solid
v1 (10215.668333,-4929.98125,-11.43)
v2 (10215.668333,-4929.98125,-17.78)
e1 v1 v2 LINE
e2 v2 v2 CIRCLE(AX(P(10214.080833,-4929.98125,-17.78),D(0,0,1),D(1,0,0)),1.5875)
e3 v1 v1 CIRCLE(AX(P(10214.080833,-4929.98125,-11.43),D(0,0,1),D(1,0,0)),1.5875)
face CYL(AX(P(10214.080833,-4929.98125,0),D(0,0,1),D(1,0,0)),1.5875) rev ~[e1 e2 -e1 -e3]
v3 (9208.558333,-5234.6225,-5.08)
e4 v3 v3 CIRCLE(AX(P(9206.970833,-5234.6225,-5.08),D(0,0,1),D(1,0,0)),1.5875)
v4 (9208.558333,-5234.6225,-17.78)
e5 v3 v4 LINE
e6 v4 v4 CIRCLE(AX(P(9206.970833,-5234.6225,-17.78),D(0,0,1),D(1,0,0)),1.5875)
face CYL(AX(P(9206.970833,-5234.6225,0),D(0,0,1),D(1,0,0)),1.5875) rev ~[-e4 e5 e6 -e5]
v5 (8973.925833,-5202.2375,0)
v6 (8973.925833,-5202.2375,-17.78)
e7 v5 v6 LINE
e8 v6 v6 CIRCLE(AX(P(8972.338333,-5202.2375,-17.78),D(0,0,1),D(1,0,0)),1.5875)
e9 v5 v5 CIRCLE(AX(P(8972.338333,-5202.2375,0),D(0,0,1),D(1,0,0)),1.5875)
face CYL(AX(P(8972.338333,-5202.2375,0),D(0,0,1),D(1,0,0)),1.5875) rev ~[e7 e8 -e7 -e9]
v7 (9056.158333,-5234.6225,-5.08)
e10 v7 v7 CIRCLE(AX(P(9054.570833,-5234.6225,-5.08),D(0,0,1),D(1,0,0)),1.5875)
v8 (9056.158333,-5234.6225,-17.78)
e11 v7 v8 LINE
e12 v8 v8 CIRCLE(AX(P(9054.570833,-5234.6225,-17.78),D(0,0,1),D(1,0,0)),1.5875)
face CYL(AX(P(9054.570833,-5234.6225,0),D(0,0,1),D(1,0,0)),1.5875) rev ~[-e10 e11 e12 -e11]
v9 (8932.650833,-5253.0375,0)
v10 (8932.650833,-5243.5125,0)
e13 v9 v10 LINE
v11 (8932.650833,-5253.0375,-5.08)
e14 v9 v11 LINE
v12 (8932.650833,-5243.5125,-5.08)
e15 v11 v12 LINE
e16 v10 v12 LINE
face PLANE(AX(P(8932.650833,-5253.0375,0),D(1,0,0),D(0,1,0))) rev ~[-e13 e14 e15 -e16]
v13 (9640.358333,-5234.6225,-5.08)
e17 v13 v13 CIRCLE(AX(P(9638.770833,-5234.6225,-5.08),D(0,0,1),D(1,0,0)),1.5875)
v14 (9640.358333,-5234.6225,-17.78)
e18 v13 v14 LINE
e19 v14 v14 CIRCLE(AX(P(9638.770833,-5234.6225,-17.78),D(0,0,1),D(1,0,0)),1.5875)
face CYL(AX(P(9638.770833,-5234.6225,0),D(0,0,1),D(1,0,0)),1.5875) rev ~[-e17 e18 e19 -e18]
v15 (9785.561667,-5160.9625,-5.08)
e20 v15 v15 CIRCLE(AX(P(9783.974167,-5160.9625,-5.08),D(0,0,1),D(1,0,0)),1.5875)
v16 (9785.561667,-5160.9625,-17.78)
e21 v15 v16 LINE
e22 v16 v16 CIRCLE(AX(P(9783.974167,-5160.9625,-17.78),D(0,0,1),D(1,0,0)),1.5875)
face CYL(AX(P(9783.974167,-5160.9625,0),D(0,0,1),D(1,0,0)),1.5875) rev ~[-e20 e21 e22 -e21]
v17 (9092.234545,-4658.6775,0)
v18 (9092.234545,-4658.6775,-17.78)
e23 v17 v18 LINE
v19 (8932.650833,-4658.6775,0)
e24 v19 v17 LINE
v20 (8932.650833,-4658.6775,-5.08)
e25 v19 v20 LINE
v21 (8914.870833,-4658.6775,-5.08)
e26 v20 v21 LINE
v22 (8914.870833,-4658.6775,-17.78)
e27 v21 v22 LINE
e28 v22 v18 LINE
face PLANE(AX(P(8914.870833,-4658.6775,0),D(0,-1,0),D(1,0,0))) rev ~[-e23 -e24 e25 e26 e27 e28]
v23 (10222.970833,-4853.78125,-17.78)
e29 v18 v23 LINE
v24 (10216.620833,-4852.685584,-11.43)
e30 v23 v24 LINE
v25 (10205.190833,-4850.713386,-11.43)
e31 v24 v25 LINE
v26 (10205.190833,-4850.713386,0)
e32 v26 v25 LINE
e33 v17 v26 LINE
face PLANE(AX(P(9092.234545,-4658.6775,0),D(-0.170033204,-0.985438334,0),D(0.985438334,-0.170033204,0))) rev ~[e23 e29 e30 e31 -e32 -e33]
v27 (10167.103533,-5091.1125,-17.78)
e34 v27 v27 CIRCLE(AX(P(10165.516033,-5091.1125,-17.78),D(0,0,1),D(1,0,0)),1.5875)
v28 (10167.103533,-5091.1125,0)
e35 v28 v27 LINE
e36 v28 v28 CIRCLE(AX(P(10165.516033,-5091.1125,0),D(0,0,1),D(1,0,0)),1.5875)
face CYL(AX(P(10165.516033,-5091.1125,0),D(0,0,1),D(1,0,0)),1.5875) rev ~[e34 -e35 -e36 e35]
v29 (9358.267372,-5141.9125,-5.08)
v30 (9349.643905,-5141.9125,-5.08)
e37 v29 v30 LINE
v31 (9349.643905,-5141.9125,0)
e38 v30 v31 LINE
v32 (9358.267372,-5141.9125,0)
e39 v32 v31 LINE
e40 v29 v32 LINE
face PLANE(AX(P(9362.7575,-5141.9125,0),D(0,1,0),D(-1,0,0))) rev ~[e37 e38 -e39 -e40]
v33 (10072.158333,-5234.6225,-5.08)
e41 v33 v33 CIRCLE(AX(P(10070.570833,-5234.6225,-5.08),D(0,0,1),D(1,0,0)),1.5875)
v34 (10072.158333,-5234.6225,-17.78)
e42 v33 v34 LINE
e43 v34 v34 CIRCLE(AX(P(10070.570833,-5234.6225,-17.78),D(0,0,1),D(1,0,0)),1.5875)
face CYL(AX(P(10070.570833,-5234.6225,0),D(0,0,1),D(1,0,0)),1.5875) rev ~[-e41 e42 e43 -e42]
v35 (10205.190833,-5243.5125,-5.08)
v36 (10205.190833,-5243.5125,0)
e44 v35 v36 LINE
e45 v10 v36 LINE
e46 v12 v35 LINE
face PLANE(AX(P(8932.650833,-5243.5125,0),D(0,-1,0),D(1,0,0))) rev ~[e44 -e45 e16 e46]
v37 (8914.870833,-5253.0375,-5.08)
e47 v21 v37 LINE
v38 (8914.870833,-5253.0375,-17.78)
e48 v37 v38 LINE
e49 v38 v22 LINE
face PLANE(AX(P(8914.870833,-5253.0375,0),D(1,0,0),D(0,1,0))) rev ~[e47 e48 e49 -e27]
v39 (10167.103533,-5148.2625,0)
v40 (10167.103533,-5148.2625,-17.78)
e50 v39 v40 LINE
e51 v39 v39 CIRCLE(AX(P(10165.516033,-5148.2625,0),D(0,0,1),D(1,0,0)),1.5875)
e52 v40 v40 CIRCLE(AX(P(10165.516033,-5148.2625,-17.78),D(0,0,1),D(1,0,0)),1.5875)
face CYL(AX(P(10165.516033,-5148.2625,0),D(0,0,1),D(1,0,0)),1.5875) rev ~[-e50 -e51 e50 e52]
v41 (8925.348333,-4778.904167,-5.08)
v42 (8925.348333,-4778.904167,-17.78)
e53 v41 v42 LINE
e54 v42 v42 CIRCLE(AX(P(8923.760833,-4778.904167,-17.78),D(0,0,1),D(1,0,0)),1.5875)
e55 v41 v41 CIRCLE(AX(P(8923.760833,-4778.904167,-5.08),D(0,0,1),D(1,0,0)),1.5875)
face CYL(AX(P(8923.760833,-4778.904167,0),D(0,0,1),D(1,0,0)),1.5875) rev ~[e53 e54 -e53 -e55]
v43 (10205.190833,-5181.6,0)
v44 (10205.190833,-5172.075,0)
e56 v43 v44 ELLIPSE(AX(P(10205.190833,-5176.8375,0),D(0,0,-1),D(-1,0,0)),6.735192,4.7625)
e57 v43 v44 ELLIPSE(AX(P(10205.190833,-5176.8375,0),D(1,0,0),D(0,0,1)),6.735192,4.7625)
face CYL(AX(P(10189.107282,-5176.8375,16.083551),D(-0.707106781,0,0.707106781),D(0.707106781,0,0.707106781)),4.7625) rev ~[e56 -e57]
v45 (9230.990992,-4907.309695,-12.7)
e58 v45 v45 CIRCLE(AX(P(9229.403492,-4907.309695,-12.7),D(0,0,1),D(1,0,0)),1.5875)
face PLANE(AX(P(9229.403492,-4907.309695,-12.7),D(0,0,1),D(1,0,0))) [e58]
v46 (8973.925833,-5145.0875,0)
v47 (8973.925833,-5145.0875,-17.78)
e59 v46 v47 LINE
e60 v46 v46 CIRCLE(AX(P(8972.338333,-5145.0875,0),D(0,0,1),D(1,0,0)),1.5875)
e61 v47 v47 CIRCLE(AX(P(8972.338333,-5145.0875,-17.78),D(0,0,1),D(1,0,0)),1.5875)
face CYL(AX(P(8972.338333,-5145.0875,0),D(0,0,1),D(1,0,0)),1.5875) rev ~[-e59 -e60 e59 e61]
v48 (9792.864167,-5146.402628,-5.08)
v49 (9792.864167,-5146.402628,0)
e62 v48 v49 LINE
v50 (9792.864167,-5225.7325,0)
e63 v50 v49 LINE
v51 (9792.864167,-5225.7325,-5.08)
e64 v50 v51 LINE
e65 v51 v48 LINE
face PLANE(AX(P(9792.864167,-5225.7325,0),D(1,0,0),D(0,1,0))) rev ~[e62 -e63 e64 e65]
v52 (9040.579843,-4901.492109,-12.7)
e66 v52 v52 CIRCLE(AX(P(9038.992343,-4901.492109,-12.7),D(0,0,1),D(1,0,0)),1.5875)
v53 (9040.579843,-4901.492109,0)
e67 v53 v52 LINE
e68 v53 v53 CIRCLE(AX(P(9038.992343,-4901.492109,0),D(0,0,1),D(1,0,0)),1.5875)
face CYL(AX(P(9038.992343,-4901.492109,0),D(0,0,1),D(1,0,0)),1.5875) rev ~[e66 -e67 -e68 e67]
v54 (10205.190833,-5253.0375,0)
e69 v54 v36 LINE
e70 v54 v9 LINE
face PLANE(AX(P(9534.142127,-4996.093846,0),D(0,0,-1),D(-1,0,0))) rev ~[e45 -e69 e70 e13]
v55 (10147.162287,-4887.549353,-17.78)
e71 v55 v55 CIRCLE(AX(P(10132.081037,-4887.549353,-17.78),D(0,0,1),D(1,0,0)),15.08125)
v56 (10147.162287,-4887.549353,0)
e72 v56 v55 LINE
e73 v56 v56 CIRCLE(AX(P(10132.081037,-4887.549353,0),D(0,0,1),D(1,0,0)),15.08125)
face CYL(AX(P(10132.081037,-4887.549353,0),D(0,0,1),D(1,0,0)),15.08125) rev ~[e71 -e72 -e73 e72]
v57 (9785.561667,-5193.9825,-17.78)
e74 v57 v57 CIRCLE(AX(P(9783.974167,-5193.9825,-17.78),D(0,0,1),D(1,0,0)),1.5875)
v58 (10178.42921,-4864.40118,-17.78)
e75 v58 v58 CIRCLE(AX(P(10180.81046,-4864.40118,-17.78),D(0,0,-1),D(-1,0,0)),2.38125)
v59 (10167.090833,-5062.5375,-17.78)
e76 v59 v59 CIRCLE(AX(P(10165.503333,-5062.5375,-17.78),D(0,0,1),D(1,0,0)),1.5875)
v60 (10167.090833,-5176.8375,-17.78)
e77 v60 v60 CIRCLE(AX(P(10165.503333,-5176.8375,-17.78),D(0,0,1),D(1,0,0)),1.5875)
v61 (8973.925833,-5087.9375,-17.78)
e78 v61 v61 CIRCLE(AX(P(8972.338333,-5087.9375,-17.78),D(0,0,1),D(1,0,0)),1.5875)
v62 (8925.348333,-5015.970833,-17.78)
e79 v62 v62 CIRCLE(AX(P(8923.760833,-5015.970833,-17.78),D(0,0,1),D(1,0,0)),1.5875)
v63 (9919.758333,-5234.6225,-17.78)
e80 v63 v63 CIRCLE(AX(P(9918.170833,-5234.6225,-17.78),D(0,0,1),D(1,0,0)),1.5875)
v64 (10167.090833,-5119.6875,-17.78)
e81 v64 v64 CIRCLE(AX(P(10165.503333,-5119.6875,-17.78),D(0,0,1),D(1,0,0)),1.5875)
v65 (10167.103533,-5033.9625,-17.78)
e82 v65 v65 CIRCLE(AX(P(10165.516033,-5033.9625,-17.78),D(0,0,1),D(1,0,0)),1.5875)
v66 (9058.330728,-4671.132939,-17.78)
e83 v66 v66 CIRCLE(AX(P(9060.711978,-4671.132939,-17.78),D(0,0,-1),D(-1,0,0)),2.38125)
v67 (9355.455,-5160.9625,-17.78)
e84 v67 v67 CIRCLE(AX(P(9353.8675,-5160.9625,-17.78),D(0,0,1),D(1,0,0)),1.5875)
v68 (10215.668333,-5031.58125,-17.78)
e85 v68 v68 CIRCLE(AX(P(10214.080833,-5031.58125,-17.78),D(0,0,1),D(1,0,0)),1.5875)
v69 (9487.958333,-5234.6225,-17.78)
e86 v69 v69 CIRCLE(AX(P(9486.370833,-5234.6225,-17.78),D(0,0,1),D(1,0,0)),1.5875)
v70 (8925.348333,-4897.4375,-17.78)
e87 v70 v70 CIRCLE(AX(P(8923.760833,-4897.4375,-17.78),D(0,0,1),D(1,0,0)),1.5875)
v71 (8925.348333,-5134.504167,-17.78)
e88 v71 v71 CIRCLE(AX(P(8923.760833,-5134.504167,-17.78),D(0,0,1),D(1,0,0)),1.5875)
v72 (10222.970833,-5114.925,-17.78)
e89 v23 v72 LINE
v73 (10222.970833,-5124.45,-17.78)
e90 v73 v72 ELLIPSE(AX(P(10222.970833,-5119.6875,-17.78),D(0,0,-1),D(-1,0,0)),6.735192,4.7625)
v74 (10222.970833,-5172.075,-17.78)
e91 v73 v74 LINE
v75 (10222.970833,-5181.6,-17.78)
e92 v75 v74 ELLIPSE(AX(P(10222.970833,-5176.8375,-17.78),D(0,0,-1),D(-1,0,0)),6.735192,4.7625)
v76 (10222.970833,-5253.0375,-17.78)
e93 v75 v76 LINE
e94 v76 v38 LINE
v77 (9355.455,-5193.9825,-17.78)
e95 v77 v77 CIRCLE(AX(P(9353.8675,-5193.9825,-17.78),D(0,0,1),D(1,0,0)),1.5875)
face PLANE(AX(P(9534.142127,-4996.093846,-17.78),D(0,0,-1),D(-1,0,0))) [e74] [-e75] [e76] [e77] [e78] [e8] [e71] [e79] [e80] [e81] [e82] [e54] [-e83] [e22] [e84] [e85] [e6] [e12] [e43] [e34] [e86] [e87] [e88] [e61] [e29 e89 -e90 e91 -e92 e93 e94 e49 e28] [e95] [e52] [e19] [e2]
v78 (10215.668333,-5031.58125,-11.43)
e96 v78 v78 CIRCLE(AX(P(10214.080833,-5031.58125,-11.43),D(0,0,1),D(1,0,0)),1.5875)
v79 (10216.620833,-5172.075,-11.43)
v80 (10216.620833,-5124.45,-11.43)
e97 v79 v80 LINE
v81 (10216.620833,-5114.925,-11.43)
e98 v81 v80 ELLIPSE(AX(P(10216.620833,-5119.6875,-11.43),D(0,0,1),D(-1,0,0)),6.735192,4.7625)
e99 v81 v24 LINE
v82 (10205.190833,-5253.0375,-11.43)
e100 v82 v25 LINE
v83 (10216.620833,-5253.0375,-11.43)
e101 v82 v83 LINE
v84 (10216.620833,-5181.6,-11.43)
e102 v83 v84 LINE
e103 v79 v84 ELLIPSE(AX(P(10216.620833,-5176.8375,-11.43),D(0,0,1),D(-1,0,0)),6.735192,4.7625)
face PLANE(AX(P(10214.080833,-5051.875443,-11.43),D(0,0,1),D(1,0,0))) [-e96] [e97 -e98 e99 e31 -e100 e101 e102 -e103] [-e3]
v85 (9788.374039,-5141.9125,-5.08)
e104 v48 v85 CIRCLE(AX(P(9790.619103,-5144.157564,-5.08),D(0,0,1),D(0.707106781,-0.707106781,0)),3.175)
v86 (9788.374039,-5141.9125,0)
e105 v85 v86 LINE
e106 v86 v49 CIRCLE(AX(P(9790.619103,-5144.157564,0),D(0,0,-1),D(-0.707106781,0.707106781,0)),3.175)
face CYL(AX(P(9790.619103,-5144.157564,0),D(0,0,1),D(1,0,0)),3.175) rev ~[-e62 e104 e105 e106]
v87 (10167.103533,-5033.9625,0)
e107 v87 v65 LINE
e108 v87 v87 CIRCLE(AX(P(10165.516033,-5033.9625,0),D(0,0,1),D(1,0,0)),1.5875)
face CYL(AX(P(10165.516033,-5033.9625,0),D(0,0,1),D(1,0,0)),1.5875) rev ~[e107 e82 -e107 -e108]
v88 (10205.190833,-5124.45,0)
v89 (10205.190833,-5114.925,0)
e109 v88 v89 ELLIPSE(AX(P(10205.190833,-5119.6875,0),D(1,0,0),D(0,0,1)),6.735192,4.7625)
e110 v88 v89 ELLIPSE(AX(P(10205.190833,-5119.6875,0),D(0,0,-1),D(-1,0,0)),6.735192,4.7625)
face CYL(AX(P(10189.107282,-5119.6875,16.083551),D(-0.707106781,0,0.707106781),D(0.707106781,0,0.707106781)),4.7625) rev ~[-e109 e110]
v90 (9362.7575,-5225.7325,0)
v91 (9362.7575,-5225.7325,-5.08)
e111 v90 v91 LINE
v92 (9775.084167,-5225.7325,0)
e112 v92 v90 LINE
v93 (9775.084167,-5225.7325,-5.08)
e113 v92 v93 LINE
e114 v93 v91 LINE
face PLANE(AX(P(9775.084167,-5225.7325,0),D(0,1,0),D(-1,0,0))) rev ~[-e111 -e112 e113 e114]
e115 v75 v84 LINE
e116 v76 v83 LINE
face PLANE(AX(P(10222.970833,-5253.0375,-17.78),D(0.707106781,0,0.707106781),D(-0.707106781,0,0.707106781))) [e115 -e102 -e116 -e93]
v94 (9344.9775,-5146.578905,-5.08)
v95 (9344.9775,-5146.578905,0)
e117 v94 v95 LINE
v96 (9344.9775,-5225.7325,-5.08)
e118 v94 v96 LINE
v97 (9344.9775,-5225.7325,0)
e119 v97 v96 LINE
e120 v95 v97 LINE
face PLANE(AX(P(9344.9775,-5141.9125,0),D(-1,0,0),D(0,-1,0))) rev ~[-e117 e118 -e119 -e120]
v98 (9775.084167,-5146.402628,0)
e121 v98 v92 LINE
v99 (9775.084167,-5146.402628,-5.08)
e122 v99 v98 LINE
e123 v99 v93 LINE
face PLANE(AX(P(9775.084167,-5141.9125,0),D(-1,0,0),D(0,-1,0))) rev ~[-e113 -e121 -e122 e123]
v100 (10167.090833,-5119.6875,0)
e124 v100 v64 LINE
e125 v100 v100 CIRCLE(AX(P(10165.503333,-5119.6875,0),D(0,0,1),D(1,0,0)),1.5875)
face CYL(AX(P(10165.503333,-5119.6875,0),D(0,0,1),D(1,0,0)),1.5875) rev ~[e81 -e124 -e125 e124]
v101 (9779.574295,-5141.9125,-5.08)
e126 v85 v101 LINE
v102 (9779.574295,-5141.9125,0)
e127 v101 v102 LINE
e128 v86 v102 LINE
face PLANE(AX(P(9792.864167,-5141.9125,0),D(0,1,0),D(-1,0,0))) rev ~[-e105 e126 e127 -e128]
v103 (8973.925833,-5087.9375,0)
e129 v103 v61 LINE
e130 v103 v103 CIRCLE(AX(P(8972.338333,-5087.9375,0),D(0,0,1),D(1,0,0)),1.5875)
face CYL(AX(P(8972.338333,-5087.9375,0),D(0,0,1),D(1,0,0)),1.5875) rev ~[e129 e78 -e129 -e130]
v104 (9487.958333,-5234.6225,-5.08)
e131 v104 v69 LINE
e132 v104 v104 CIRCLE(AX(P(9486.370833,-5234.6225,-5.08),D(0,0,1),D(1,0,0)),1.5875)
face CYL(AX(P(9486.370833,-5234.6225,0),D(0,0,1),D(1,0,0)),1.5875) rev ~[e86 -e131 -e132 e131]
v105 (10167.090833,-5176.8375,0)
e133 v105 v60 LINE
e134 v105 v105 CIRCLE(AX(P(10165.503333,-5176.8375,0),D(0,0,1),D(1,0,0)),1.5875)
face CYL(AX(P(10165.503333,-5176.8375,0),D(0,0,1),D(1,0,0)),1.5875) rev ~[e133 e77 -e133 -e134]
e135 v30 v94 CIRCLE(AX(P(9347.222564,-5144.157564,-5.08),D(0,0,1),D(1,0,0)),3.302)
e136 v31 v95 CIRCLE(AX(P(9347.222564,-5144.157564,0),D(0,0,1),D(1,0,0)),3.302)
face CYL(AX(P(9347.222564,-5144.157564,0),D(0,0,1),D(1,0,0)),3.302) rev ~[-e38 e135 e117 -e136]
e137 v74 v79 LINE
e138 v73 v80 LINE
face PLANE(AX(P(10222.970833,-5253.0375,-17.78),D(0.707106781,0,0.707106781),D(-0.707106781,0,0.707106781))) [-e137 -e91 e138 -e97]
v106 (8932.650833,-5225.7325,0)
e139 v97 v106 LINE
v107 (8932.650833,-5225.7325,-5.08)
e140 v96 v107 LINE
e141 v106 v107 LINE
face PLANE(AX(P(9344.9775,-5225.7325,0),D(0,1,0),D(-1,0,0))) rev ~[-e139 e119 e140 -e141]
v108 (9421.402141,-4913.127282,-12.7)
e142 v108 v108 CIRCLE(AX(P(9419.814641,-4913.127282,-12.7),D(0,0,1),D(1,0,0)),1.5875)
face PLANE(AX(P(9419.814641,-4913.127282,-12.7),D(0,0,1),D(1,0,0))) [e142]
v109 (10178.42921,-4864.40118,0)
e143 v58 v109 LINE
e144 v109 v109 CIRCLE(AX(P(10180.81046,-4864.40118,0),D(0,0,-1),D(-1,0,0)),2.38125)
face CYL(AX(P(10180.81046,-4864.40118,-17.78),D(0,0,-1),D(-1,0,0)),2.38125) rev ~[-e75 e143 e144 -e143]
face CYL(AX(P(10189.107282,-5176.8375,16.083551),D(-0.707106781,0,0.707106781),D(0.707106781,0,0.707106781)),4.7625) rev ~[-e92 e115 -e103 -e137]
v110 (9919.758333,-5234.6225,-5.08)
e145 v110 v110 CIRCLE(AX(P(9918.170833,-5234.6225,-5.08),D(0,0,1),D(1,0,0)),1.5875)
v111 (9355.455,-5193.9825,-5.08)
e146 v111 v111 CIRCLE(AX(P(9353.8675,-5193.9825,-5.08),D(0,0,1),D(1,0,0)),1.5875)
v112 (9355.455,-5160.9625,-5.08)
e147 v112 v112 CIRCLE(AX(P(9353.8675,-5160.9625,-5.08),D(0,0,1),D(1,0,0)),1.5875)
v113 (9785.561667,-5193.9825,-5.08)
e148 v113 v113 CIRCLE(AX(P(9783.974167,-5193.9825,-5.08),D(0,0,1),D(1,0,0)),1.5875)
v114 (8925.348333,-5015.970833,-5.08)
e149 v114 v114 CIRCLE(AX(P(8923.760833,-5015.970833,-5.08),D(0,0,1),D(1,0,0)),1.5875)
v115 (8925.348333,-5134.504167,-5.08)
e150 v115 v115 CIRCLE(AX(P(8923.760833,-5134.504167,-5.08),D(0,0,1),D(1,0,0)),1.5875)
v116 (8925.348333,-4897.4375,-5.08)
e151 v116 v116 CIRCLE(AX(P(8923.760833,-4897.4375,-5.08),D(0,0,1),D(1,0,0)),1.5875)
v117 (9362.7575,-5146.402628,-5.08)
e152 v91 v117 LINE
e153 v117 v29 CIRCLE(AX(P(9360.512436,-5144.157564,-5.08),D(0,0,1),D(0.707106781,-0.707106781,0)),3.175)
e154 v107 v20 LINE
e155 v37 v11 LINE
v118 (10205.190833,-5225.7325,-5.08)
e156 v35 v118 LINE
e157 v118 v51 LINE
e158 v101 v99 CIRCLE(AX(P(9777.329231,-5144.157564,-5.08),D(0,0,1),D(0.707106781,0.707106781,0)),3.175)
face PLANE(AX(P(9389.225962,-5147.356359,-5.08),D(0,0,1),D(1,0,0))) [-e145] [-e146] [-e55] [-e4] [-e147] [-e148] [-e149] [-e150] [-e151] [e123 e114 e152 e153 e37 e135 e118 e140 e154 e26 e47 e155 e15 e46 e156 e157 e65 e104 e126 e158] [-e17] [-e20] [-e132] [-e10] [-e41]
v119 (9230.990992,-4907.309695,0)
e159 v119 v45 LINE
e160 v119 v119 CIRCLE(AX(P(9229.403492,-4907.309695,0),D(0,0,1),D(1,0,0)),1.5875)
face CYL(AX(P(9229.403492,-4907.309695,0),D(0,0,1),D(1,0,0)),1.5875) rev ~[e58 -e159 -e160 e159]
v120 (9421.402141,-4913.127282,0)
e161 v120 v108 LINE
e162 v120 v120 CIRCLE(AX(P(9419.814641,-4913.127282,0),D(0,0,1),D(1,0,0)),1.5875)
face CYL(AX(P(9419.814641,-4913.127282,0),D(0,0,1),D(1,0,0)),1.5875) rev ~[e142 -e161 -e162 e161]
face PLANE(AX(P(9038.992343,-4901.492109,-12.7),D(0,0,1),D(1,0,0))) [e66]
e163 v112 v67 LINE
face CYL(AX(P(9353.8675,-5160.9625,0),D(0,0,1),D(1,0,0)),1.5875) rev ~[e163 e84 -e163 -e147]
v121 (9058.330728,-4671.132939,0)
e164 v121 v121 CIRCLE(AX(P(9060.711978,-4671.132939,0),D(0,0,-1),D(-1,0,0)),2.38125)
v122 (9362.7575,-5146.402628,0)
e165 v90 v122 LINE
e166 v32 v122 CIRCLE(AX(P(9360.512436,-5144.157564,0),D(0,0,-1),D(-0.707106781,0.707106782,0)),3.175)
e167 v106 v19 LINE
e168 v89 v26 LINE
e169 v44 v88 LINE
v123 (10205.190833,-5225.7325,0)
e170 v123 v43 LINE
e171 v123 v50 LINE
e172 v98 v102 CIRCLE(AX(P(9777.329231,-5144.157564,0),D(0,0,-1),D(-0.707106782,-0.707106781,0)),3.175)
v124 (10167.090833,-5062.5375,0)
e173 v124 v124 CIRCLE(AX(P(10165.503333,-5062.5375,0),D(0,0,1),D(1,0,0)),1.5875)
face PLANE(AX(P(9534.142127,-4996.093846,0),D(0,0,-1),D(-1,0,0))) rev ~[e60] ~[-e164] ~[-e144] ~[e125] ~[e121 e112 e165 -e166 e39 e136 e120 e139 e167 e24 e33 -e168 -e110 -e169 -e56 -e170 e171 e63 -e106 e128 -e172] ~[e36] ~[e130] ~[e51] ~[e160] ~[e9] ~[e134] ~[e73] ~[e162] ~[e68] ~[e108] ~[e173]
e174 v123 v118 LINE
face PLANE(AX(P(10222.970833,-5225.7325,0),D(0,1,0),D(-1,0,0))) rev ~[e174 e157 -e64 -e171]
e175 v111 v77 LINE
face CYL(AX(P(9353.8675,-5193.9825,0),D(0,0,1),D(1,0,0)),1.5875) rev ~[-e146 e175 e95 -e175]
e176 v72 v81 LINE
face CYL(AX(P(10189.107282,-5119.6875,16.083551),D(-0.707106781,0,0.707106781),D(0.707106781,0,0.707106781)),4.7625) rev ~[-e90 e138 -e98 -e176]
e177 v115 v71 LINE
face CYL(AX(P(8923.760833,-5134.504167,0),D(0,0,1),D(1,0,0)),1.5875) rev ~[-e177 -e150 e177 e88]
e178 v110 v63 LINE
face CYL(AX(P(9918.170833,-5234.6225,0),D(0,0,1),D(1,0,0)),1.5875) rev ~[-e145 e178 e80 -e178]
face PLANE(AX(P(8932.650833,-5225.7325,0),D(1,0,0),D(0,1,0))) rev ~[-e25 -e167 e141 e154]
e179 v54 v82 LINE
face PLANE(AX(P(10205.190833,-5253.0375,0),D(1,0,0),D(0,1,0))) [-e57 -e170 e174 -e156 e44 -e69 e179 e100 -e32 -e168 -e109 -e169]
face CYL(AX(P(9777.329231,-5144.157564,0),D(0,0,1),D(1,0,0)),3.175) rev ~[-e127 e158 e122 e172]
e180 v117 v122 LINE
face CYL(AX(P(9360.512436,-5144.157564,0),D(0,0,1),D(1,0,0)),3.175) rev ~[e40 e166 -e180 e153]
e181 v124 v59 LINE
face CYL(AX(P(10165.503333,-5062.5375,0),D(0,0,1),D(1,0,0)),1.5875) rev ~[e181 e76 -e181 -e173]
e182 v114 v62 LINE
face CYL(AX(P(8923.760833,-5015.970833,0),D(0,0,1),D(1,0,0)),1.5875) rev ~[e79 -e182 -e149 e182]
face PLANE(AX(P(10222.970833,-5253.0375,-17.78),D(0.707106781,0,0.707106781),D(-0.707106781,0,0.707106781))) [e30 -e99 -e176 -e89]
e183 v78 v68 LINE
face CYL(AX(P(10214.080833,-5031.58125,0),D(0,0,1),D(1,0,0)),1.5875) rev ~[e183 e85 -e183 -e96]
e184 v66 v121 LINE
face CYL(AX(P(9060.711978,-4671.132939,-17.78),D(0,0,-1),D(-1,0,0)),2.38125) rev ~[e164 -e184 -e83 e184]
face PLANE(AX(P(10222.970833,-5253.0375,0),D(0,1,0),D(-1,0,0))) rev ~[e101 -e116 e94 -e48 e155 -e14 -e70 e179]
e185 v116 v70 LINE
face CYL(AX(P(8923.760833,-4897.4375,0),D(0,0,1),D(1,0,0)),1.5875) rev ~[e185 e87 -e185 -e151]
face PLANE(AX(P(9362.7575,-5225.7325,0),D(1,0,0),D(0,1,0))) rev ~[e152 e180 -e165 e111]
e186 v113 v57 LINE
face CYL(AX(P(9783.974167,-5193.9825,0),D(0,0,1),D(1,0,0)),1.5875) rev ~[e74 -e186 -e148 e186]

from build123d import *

# Parameters (mm, degrees)
CABSIDERIGHT_THICKNESS_DEPTH  = 17.78
LEDGECUTS_DEPTH_DEPTH         = 5.08
SKETCH9_R                     = 3.301999998
SKETCH9_R_2                   = 3.174999998
SKETCH9_R_3                   = 3.174999999
CUT_EXTRUDE4_DEPTH            = 5.08
SKETCH10_R                    = 15.08125
SKETCH10_R_2                  = 1.5875
CUT_EXTRUDE5_DEPTH            = 17.78
FRONTLEDGECUT_W               = 17.78
FRONTLEDGECUT_H               = 402.324113577
FRONTLEDGECUT_THICKNESS_DEPTH = 11.43
CUT_EXTRUDE8_DEPTH            = 594.36
SKETCH15_R                    = 2.38125
CUT_EXTRUDE9_DEPTH            = 17.78
SKETCH16_R                    = 1.5875
CUT_EXTRUDE10_DEPTH           = 12.7
SKETCH17_R                    = 4.7625
CUT_EXTRUDE11_DEPTH           = 76.2


with BuildPart() as part:
    # CabSideRight_Outline → CabSideRight_Thickness (new body)
    with BuildSketch(Plane.XY):
        Polygon((9092.234544556, -4658.6775), (10222.970833334, -4853.78125), (10222.970833334, -5253.0375), (8914.870833334, -5253.0375), (8914.870833334, -4658.6775), align=None)
    extrude(amount=-CABSIDERIGHT_THICKNESS_DEPTH)

    # CabSideRight_LedgeCuts → LedgeCuts_Depth (cut)
    with BuildSketch(Plane.XY):
        Polygon((8932.650833334, -4658.6775), (8914.870833334, -4658.6775), (8914.870833334, -5253.0375), (8932.650833334, -5253.0375), (8932.650833334, -5243.5125), (10222.970833334, -5243.5125), (10222.970833334, -5225.7325), (9792.864166668, -5225.7325), (9792.864166668, -5141.912499999), (9775.084166668, -5141.912499999), (9775.084166668, -5225.7325), (9362.757500002, -5225.7325), (9362.757500002, -5141.9125), (9344.977500002, -5141.912499999), (9344.977500002, -5225.7325), (8932.650833334, -5225.7325), align=None)
    extrude(amount=-LEDGECUTS_DEPTH_DEPTH, mode=Mode.SUBTRACT)

    # Sketch9 → Cut-Extrude4 (cut)
    with BuildSketch(Plane.XY):
        with Locations((9347.222564031, -5144.157564028)):
            Circle(SKETCH9_R)
        with Locations((9360.512435973, -5144.15756403)):
            Circle(SKETCH9_R_2)
        with Locations((9777.329230699, -5144.157564029)):
            Circle(SKETCH9_R_3)
        with Locations((9790.619102638, -5144.157564029)):
            Circle(SKETCH9_R_3)
    extrude(amount=-CUT_EXTRUDE4_DEPTH, mode=Mode.SUBTRACT)

    # Sketch10 → Cut-Extrude5 (cut)
    with BuildSketch(Plane.XY):
        with Locations((10132.081036572, -4887.549352662)):
            Circle(SKETCH10_R)
        with Locations((10165.516033334, -5148.2625)):
            Circle(SKETCH10_R_2)
        with Locations((8923.760833334, -4778.904166666)):
            Circle(SKETCH10_R_2)
        with Locations((8923.760833334, -4897.4375)):
            Circle(SKETCH10_R_2)
        with Locations((8923.760833334, -5015.970833334)):
            Circle(SKETCH10_R_2)
        with Locations((8923.760833334, -5134.504166666)):
            Circle(SKETCH10_R_2)
        with Locations((9054.570833334, -5234.6225)):
            Circle(SKETCH10_R_2)
        with Locations((9206.970833334, -5234.6225)):
            Circle(SKETCH10_R_2)
        with Locations((9353.8675, -5193.9825)):
            Circle(SKETCH10_R_2)
        with Locations((9353.8675, -5160.9625)):
            Circle(SKETCH10_R_2)
        with Locations((9486.370833334, -5234.6225)):
            Circle(SKETCH10_R_2)
        with Locations((9638.770833334, -5234.6225)):
            Circle(SKETCH10_R_2)
        with Locations((9783.974166666, -5193.9825)):
            Circle(SKETCH10_R_2)
        with Locations((9783.974166666, -5160.9625)):
            Circle(SKETCH10_R_2)
        with Locations((9918.170833334, -5234.6225)):
            Circle(SKETCH10_R_2)
        with Locations((10070.570833334, -5234.6225)):
            Circle(SKETCH10_R_2)
        with Locations((10214.080833334, -5031.58125)):
            Circle(SKETCH10_R_2)
        with Locations((10214.080833334, -4929.98125)):
            Circle(SKETCH10_R_2)
        with Locations((10165.516033334, -5091.1125)):
            Circle(SKETCH10_R_2)
        with Locations((8972.338333334, -5087.9375)):
            Circle(SKETCH10_R_2)
        with Locations((8972.338333334, -5145.0875)):
            Circle(SKETCH10_R_2)
        with Locations((8972.338333334, -5202.2375)):
            Circle(SKETCH10_R_2)
        with Locations((10165.503333334, -5176.8375)):
            Circle(SKETCH10_R_2)
        with Locations((10165.503333334, -5119.6875)):
            Circle(SKETCH10_R_2)
        with Locations((10165.503333334, -5062.5375)):
            Circle(SKETCH10_R_2)
        with Locations((10165.516033334, -5033.9625)):
            Circle(SKETCH10_R_2)
    extrude(amount=-CUT_EXTRUDE5_DEPTH, mode=Mode.SUBTRACT)

    # FrontLedgeCut → FrontLedgeCut_Thickness (cut)
    with BuildSketch(Plane.XY):
        with Locations((10214.080833334, -5051.875443212)):
            Rectangle(FRONTLEDGECUT_W, FRONTLEDGECUT_H)
    extrude(amount=-FRONTLEDGECUT_THICKNESS_DEPTH, mode=Mode.SUBTRACT)

    # FrontBevelAngleCut → Cut-Extrude8 (cut)
    with BuildSketch(Plane.XZ.offset(5253.0375)):
        Polygon((10222.970833334, -11.43), (10229.320833334, -11.43), (10222.970833334, -17.78), (10216.620833334, -11.43), align=None)
    extrude(amount=-CUT_EXTRUDE8_DEPTH, mode=Mode.SUBTRACT)

    # Sketch15 → Cut-Extrude9 (cut)
    with BuildSketch(Plane(origin=(0, 0, -17.78), x_dir=(-1, 0, 0), z_dir=(0, 0, -1))):
        with Locations((-10180.810459726, -4864.401180469)):
            Circle(SKETCH15_R)
        with Locations((-9060.71197776, -4671.132938908)):
            Circle(SKETCH15_R)
    extrude(amount=-CUT_EXTRUDE9_DEPTH, mode=Mode.SUBTRACT)

    # Sketch16 → Cut-Extrude10 (cut)
    with BuildSketch(Plane.XY):
        with Locations((9038.992342664, -4901.492108659)):
            Circle(SKETCH16_R)
        with Locations((9229.403491719, -4907.309695425)):
            Circle(SKETCH16_R)
        with Locations((9419.814640773, -4913.127282192)):
            Circle(SKETCH16_R)
    extrude(amount=-CUT_EXTRUDE10_DEPTH, mode=Mode.SUBTRACT)

    # Sketch17 → Cut-Extrude11 (cut)
    with BuildSketch(Plane(origin=(5086.511865443, 0, -5086.511865443), x_dir=(0.707106781, 0, 0.707106781), z_dir=(-0.707106781, 0, 0.707106781))):
        with Locations((7216.159641553, -5119.6875)):
            Circle(SKETCH17_R)
        with Locations((7216.159641553, -5176.8375)):
            Circle(SKETCH17_R)
    extrude(amount=-CUT_EXTRUDE11_DEPTH, mode=Mode.SUBTRACT)


solid = part.part
